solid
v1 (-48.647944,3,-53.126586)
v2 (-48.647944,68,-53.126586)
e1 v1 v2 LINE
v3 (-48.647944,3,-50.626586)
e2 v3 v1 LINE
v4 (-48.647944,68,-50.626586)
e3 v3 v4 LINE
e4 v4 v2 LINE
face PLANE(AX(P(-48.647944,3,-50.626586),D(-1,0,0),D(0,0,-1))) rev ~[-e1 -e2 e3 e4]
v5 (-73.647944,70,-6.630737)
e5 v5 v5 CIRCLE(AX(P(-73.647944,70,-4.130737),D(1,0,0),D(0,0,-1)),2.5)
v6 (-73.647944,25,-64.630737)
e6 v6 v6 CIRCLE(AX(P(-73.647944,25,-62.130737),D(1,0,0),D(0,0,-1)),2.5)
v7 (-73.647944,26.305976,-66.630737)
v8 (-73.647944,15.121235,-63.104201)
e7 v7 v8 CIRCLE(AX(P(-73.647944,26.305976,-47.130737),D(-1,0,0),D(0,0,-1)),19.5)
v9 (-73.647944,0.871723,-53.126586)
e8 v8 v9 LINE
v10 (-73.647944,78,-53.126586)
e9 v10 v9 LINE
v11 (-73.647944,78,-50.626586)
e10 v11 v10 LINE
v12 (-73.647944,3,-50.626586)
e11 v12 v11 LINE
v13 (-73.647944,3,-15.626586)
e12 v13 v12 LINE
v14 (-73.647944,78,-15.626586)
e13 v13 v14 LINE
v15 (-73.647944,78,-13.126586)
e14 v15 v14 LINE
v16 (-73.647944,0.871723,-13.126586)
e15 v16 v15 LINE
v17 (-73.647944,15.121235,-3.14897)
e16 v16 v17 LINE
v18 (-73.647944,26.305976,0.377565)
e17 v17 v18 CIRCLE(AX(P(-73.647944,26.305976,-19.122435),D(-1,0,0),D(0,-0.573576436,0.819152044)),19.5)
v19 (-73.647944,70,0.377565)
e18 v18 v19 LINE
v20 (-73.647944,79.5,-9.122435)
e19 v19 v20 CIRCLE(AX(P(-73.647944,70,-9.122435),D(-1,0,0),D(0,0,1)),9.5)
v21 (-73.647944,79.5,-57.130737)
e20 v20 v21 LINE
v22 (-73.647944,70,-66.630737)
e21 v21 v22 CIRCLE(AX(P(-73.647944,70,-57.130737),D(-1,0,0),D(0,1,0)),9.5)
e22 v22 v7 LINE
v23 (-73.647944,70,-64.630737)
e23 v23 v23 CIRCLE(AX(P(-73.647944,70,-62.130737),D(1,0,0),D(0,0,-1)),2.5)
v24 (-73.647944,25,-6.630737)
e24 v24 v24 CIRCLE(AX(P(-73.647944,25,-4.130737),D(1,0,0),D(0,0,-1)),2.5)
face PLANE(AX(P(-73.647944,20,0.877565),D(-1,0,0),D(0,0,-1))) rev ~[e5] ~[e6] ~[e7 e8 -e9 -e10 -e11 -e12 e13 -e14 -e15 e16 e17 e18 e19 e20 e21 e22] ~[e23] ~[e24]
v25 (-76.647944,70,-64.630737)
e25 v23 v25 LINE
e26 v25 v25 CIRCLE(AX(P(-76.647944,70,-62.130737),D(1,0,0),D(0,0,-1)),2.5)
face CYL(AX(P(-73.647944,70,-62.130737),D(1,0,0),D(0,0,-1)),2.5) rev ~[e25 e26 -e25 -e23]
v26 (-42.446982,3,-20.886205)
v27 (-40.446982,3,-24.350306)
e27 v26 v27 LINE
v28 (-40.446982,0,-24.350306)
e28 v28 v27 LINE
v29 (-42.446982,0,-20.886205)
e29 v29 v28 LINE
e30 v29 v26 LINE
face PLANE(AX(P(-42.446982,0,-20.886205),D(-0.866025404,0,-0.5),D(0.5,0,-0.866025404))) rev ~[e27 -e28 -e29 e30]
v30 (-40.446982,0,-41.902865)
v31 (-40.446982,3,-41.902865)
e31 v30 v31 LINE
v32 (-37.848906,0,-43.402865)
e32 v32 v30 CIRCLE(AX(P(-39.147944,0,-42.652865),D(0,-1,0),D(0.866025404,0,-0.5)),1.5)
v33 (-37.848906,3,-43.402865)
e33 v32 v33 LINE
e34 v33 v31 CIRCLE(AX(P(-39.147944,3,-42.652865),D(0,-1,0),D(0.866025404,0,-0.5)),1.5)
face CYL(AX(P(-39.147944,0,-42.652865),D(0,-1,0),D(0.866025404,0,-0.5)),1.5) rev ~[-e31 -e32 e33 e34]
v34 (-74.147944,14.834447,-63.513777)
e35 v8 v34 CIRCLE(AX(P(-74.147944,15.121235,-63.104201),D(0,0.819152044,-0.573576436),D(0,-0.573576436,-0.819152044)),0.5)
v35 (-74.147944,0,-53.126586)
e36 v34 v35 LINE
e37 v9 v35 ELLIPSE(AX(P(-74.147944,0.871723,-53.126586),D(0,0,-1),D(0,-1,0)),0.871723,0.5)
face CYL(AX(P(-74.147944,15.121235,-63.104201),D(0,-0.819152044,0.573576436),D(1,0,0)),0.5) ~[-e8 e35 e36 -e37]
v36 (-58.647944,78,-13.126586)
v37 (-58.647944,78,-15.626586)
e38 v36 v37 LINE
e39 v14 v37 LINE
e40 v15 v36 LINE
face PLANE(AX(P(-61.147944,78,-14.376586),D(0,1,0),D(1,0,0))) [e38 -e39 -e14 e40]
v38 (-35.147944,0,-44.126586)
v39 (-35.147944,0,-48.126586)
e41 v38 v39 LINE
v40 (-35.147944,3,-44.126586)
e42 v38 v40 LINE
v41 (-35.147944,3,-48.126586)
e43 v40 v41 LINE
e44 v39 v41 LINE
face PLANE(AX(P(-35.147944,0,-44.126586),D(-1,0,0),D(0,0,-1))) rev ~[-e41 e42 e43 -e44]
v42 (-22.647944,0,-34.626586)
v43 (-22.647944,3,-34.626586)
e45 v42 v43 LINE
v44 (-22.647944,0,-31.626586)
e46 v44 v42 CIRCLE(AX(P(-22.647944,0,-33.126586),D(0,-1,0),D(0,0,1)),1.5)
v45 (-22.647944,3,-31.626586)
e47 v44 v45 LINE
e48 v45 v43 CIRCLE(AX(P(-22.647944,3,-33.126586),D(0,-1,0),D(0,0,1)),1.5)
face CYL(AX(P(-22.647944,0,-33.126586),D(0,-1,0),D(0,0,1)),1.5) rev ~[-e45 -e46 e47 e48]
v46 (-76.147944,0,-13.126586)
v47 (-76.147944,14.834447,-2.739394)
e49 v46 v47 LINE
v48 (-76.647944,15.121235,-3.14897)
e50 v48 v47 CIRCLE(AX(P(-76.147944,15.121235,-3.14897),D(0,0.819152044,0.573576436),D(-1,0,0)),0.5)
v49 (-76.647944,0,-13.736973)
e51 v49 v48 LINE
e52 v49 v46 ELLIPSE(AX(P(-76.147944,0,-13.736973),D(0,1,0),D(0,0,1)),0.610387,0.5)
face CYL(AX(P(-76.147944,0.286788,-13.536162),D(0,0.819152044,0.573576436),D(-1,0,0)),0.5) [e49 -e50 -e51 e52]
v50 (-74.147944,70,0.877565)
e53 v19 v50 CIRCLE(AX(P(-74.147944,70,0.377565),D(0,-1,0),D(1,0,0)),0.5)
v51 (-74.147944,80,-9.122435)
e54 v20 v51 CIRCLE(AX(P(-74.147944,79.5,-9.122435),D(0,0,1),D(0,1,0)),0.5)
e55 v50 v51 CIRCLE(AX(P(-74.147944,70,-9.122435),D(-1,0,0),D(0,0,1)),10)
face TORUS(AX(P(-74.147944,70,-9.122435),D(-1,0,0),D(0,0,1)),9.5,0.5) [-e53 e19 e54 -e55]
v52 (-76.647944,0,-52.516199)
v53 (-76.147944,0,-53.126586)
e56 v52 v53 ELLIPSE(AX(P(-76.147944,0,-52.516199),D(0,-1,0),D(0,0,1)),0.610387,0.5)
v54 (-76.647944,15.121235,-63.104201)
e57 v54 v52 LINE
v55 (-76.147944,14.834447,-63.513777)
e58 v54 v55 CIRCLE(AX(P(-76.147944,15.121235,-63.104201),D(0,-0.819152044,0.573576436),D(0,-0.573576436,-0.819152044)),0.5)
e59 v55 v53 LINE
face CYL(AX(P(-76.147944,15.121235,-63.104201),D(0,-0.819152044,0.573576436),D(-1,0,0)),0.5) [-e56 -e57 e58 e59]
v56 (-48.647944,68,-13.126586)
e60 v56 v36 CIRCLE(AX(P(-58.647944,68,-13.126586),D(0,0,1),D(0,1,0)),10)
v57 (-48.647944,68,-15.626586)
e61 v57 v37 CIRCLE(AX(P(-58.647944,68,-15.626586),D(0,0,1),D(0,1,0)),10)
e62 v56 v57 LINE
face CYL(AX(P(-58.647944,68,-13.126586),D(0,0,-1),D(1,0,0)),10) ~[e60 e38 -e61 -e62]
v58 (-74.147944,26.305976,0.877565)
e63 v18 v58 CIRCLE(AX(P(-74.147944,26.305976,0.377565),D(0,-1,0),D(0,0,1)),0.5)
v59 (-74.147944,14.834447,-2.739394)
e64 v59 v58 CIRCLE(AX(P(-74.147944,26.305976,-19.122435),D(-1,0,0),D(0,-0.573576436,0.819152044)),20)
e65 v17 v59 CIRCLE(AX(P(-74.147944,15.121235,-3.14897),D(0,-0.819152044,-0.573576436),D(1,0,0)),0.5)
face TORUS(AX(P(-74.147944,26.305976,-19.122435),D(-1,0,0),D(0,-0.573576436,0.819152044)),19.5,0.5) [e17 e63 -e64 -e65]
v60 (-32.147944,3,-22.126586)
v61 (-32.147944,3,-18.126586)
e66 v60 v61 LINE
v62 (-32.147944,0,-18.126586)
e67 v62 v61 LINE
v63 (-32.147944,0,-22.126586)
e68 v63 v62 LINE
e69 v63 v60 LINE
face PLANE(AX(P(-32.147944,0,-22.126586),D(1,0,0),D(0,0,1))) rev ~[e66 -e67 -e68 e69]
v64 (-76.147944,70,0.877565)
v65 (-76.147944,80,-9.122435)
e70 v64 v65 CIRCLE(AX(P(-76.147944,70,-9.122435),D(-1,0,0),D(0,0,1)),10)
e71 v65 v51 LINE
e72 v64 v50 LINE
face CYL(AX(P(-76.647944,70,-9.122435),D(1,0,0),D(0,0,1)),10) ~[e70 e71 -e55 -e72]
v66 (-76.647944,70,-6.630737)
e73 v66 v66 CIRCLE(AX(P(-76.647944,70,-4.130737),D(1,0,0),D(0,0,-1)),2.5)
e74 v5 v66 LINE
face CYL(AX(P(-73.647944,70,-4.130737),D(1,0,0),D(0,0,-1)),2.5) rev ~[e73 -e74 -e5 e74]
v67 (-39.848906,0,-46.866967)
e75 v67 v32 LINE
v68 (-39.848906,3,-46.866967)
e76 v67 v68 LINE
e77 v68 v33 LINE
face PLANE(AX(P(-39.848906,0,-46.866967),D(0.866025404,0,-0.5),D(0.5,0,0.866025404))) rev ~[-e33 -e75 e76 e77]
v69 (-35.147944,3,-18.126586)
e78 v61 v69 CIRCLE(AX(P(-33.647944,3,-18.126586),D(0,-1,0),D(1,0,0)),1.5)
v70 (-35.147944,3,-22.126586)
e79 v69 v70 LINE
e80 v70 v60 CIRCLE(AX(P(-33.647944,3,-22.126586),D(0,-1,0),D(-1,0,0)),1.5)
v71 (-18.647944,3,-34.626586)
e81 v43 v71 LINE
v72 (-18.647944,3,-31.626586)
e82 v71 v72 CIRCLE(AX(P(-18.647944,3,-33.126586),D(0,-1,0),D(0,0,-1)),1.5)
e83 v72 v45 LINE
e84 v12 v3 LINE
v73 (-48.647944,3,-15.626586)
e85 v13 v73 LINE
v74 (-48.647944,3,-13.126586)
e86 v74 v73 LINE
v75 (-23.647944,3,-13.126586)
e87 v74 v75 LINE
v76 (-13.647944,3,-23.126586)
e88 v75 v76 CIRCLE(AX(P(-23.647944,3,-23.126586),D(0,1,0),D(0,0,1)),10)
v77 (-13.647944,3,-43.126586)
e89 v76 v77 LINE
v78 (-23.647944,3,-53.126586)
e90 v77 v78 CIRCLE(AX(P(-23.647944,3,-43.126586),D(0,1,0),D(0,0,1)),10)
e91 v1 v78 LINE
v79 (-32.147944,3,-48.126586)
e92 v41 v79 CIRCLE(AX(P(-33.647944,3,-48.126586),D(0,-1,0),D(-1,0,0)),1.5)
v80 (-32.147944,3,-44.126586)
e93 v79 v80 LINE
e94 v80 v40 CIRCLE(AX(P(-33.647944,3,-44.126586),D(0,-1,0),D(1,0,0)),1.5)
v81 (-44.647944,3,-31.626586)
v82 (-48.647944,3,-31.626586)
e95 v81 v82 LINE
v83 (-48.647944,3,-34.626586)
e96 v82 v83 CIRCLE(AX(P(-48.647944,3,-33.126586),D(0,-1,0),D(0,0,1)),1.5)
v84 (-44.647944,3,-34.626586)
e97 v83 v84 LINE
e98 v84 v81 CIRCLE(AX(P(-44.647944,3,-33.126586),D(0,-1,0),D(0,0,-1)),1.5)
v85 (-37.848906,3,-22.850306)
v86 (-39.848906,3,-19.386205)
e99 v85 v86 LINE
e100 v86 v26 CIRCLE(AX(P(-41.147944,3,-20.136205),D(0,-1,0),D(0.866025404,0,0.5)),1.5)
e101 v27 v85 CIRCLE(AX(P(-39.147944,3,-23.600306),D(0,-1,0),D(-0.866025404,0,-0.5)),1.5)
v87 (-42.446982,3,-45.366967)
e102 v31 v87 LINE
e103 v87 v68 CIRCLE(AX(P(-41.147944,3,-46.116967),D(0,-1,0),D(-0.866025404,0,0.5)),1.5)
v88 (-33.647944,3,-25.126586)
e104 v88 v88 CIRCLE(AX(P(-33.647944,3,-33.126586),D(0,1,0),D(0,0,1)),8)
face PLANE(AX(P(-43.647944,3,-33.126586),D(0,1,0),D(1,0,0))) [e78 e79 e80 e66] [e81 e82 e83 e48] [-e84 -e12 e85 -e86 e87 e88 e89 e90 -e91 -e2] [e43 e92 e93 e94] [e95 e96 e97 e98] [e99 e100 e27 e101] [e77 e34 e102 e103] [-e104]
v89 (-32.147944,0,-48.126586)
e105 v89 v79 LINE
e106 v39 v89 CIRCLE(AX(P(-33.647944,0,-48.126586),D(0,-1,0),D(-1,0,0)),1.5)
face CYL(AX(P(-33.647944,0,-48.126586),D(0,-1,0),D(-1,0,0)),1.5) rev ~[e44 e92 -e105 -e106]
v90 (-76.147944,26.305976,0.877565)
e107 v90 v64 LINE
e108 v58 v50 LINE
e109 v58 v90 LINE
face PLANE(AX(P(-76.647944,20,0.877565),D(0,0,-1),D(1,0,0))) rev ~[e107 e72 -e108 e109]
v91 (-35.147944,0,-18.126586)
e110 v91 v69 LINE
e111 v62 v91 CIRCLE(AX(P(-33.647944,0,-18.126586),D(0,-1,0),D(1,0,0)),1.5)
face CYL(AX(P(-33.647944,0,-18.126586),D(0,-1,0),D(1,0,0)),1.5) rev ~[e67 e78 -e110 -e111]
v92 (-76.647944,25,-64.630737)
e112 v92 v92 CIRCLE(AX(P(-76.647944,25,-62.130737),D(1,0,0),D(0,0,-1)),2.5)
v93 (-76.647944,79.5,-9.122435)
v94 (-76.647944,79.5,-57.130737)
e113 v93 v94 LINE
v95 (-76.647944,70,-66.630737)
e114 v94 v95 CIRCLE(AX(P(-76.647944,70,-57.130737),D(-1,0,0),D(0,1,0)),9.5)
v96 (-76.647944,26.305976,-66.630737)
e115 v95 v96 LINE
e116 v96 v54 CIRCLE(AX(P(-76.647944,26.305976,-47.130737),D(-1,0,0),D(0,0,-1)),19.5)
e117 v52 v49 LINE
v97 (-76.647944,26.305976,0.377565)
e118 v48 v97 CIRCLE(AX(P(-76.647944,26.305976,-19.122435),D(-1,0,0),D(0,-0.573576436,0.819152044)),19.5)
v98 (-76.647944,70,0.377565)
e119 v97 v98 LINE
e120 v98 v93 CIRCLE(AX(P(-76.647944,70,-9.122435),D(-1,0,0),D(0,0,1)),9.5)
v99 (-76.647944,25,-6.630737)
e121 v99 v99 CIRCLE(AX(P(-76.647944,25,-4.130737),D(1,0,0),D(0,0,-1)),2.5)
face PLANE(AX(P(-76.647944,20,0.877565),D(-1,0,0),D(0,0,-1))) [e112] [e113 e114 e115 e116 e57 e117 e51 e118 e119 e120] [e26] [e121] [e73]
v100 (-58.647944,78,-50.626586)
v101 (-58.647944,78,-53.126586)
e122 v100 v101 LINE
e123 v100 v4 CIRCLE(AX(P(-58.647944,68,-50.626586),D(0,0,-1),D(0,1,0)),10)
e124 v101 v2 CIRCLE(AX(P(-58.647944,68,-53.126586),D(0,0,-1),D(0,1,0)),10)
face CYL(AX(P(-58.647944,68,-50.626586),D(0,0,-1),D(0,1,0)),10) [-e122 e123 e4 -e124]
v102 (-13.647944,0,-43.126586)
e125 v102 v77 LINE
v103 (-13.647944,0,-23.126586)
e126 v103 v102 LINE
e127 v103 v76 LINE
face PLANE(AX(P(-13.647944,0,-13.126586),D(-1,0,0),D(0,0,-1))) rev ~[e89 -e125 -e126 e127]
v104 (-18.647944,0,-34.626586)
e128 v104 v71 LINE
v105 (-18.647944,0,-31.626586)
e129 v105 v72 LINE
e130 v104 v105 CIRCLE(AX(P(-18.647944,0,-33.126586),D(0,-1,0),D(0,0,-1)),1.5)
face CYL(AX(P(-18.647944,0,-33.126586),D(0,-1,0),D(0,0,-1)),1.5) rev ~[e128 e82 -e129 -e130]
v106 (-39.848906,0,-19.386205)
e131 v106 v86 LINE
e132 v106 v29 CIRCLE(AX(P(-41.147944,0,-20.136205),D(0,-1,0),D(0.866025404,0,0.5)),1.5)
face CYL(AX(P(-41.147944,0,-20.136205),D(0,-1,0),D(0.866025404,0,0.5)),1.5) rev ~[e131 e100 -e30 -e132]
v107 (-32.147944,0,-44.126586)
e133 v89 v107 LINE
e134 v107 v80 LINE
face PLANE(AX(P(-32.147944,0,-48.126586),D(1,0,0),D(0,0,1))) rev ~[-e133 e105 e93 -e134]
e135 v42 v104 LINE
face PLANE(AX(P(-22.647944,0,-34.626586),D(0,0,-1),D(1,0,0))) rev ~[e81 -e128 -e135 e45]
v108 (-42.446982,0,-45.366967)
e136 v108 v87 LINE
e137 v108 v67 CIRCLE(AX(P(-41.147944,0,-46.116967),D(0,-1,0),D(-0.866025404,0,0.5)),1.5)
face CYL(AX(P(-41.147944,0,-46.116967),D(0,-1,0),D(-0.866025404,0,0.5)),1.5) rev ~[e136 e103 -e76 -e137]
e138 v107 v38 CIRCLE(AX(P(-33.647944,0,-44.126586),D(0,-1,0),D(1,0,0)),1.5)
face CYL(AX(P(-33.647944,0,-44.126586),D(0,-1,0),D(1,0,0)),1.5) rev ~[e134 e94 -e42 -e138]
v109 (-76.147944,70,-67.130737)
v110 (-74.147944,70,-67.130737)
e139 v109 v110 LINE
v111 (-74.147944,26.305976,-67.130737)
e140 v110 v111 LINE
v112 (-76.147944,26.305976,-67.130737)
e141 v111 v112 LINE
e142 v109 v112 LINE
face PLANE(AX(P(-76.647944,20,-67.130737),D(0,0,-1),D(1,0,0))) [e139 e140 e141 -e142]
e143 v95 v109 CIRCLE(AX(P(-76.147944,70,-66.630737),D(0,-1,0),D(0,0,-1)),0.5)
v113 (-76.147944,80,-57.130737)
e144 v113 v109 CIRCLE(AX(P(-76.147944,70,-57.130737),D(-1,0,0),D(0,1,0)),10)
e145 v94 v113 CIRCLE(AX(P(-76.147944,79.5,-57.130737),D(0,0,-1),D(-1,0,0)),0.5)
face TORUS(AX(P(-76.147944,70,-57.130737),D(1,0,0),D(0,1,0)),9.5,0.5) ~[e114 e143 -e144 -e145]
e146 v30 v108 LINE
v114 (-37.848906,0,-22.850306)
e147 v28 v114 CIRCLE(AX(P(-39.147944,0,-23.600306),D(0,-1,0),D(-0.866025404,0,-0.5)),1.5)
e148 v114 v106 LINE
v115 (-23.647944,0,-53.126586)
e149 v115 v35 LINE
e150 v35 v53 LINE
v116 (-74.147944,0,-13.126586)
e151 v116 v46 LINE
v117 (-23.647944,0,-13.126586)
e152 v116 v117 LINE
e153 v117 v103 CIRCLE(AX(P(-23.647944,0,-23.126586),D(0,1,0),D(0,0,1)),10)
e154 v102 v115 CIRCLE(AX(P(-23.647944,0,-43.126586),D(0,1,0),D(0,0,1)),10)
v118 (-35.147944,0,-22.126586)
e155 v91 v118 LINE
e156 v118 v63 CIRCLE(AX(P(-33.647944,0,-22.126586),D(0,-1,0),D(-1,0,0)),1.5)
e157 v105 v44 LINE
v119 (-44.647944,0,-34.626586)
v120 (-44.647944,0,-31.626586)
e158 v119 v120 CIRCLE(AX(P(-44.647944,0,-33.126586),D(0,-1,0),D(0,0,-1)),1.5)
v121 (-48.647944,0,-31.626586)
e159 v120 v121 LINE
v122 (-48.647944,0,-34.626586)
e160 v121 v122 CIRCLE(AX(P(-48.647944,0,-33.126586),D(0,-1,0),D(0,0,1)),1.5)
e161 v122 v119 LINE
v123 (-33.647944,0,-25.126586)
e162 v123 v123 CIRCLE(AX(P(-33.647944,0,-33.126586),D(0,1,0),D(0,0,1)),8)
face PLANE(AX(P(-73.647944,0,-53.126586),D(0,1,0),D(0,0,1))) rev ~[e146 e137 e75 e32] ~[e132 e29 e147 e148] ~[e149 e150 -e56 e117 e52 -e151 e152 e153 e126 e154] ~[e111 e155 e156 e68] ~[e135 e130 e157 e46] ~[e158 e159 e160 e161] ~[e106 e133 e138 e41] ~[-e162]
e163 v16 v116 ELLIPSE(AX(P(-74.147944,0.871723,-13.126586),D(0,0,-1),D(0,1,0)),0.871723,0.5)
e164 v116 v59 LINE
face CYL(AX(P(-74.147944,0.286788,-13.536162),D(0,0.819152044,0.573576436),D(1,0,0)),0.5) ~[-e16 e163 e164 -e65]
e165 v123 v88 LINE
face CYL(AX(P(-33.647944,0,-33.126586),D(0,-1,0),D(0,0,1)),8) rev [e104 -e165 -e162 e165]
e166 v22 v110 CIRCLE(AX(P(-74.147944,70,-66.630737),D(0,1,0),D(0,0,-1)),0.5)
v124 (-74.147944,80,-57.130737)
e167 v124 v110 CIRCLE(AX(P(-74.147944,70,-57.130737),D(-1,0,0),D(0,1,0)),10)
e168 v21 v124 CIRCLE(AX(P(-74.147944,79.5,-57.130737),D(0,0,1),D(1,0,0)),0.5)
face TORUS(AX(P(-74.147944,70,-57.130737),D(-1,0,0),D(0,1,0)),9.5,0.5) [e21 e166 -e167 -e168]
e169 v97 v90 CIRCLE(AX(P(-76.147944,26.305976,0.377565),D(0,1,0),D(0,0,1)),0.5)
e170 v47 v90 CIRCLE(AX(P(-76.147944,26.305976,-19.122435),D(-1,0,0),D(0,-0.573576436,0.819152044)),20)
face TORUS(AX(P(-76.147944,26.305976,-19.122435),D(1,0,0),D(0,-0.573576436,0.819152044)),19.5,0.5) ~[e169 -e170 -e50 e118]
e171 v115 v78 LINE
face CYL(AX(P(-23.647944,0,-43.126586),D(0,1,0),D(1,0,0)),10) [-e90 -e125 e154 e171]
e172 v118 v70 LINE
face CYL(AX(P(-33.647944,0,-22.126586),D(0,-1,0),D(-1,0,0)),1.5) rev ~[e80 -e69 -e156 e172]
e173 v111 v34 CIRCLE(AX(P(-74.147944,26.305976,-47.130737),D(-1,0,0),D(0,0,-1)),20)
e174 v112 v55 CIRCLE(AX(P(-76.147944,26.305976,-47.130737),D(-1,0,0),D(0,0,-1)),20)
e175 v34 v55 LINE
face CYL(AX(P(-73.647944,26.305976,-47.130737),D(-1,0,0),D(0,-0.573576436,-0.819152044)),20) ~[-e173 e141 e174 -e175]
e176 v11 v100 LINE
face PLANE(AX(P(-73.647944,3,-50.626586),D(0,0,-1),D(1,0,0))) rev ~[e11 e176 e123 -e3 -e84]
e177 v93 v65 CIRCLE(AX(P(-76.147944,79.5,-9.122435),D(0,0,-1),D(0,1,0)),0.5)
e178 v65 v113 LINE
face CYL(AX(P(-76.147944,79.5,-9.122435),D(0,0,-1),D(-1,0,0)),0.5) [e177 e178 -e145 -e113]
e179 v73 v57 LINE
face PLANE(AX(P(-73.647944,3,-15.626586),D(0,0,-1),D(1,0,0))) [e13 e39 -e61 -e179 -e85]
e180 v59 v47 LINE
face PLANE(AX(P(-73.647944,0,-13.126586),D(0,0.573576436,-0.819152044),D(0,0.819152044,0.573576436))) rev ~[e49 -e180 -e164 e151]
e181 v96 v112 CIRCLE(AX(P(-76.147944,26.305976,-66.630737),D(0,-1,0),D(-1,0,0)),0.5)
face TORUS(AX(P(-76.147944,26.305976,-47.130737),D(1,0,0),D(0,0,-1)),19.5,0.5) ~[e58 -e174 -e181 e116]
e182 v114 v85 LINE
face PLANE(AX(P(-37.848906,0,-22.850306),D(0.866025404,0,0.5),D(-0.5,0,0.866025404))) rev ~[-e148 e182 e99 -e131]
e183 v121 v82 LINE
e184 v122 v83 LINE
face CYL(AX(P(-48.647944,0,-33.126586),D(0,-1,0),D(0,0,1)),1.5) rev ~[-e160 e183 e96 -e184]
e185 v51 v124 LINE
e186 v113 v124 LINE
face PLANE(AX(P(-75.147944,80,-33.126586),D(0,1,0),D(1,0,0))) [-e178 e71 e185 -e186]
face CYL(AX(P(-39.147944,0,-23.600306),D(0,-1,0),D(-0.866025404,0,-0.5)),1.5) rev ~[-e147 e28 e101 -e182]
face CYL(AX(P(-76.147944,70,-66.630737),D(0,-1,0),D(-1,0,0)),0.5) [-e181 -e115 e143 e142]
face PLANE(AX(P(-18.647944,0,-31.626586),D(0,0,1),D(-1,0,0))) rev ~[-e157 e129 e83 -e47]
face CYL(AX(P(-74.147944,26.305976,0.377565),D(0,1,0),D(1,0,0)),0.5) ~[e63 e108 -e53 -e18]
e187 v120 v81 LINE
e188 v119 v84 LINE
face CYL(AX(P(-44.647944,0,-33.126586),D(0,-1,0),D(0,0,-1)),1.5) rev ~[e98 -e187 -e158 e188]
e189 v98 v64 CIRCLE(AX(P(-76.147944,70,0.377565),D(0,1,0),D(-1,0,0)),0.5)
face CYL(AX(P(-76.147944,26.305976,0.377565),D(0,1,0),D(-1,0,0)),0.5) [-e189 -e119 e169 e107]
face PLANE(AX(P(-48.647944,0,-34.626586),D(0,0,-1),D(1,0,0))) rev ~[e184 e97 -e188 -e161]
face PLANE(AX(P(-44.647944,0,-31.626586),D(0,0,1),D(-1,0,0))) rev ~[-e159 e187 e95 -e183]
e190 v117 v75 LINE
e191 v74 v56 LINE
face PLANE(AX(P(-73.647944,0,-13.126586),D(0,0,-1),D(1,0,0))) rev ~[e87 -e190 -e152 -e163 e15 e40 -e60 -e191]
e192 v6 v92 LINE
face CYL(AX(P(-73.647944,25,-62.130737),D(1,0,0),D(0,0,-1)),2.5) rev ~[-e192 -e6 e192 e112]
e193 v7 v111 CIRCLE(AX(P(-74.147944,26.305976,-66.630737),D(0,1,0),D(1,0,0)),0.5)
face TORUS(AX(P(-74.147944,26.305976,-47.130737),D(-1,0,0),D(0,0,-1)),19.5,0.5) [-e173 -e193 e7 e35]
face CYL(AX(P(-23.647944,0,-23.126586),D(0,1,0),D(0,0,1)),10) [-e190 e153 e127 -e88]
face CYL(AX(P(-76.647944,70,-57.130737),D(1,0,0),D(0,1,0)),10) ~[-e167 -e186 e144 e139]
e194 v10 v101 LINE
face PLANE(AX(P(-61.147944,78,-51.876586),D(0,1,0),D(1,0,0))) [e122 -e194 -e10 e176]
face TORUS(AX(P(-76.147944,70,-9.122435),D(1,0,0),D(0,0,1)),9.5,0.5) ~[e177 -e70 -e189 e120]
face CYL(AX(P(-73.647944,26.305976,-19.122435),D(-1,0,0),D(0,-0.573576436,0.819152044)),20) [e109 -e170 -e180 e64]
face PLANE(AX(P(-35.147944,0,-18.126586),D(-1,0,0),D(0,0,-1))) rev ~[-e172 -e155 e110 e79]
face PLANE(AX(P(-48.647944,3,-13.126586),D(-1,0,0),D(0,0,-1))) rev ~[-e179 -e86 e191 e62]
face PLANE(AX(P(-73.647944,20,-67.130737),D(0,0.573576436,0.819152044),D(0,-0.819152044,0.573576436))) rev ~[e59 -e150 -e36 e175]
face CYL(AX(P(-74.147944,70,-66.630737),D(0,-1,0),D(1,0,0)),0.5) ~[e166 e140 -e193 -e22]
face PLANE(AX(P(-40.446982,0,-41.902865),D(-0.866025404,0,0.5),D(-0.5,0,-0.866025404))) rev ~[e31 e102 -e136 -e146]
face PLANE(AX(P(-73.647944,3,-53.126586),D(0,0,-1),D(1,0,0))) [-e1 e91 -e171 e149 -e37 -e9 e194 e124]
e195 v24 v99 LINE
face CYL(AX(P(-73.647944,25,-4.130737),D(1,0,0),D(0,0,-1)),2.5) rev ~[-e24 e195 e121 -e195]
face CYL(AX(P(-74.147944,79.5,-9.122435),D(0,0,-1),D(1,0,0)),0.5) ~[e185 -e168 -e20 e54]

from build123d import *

# Parameters (mm, degrees)
SKETCH_1_W          = 60
SKETCH_1_H          = 40
SKETCH_1_R          = 8
EXTRUDE_1_DEPTH     = 3
EXTRUDE_2_DEPTH     = 3
SKETCH_6_W          = 3
SKETCH_6_H          = 68.008301529
EXTRUDE_3_DEPTH     = 60
SKETCH_7_R          = 2.5
CUT_EXTRUDE_1_DEPTH = 121.443081137
FILLET_1_R          = 10
FILLET_2_R          = 20
FILLET_4_R          = 10
FILLET_12_R         = 0.5
FILLET_13_R         = 0.5
SKETCH_10_W         = 25
SKETCH_10_H         = 2.5
EXTRUDE_6_DEPTH     = 75
FILLET_16_R         = 10


with BuildPart() as part:
    # 草图1 → 凸台-拉伸1 (new body)
    with BuildSketch(Plane(origin=(0, 0, 0), x_dir=(1, 0, 0), z_dir=(0, 1, 0))):
        with Locations((-43.647943628, 33.126585816)):
            Rectangle(SKETCH_1_W, SKETCH_1_H)
        with Locations(Location((-33.647943628, 33.126585816, 0), (0, 0, 270))):
            Circle(SKETCH_1_R, mode=Mode.SUBTRACT)
        with BuildLine():
            Line((-18.647943628, 31.626585816), (-22.647943628, 31.626585816))
            ThreePointArc((-22.647943628, 31.626585816), (-24.147943628, 33.126585816), (-22.647943628, 34.626585816))
            Line((-22.647943628, 34.626585816), (-18.647943628, 34.626585816))
            ThreePointArc((-18.647943628, 34.626585816), (-17.147943628, 33.126585816), (-18.647943628, 31.626585816))
        make_face(mode=Mode.SUBTRACT)
        with BuildLine():
            Line((-35.147943628, 18.126585816), (-35.147943628, 22.126585816))
            ThreePointArc((-35.147943628, 22.126585816), (-33.647943628, 23.626585816), (-32.147943628, 22.126585816))
            Line((-32.147943628, 22.126585816), (-32.147943628, 18.126585816))
            ThreePointArc((-32.147943628, 18.126585816), (-33.647943628, 16.626585816), (-35.147943628, 18.126585816))
        make_face(mode=Mode.SUBTRACT)
        with BuildLine():
            Line((-48.647943628, 34.626585816), (-44.647943628, 34.626585816))
            ThreePointArc((-44.647943628, 34.626585816), (-43.147943628, 33.126585816), (-44.647943628, 31.626585816))
            Line((-44.647943628, 31.626585816), (-48.647943628, 31.626585816))
            ThreePointArc((-48.647943628, 31.626585816), (-50.147943628, 33.126585816), (-48.647943628, 34.626585816))
        make_face(mode=Mode.SUBTRACT)
        with BuildLine():
            Line((-32.147943628, 48.126585816), (-32.147943628, 44.126585816))
            ThreePointArc((-32.147943628, 44.126585816), (-33.647943628, 42.626585816), (-35.147943628, 44.126585816))
            Line((-35.147943628, 44.126585816), (-35.147943628, 48.126585816))
            ThreePointArc((-35.147943628, 48.126585816), (-33.647943628, 49.626585816), (-32.147943628, 48.126585816))
        make_face(mode=Mode.SUBTRACT)
        with BuildLine():
            Line((-42.446981734, 20.88620476), (-40.446981734, 24.350306375))
            ThreePointArc((-40.446981734, 24.350306375), (-38.397943628, 24.89934448), (-37.848905522, 22.850306375))
            Line((-37.848905522, 22.850306375), (-39.848905522, 19.38620476))
            ThreePointArc((-39.848905522, 19.38620476), (-41.897943628, 18.837166654), (-42.446981734, 20.88620476))
        make_face(mode=Mode.SUBTRACT)
        with BuildLine():
            Line((-39.848905522, 46.866966873), (-37.848905522, 43.402865258))
            ThreePointArc((-37.848905522, 43.402865258), (-38.397943628, 41.353827152), (-40.446981734, 41.902865258))
            Line((-40.446981734, 41.902865258), (-42.446981734, 45.366966873))
            ThreePointArc((-42.446981734, 45.366966873), (-41.897943628, 47.416004979), (-39.848905522, 46.866966873))
        make_face(mode=Mode.SUBTRACT)
    extrude(amount=EXTRUDE_1_DEPTH)

    # 草图2 → 凸台-拉伸2 (add)
    with BuildSketch(Plane.ZY.offset(73.647943628)):
        Polygon((-67.130736581, 20), (-53.126585816, 0), (-13.126585816, 0), (0.877564948, 20), align=None)
    extrude(amount=EXTRUDE_2_DEPTH)

    # 草图6 → 凸台-拉伸3 (add)
    with BuildSketch(Plane(origin=(0, 20, 0), x_dir=(1, 0, 0), z_dir=(0, 1, 0))):
        with Locations((-75.147943628, 33.126585817)):
            Rectangle(SKETCH_6_W, SKETCH_6_H)
    extrude(amount=EXTRUDE_3_DEPTH)

    # 草图7 → 切除-拉伸1 (cut, through all)
    with BuildSketch(Plane(origin=(-73.647943628, 0, 0), x_dir=(0, 0, -1), z_dir=(1, 0, 0))):
        with Locations((62.130736581, 25)):
            Circle(SKETCH_7_R)
        with Locations((4.130736581, 25)):
            Circle(SKETCH_7_R)
        with Locations((62.130736581, 70)):
            Circle(SKETCH_7_R)
        with Locations((4.130736581, 70)):
            Circle(SKETCH_7_R)
    extrude(amount=-CUT_EXTRUDE_1_DEPTH, mode=Mode.SUBTRACT)

    # 圆角1
    fillet_1_edges = [part.edges().sort_by_distance(p)[0] for p in [
        (-13.647943628, 1.5, -53.126585816),
        (-13.647943628, 1.5, -13.126585816),
    ]]
    fillet(fillet_1_edges, radius=FILLET_1_R)

    # 圆角2
    fillet_2_edges = [part.edges().sort_by_distance(p)[0] for p in [
        (-75.147943628, 20, 0.877564948),
        (-75.147943628, 20, -67.130736581),
    ]]
    fillet(fillet_2_edges, radius=FILLET_2_R)

    # 圆角4
    fillet_4_edges = [part.edges().sort_by_distance(p)[0] for p in [
        (-75.147943628, 80, -67.130736581),
        (-75.147943628, 80, 0.877564948),
    ]]
    fillet(fillet_4_edges, radius=FILLET_4_R)

    # 圆角12
    fillet_12_edges = [part.edges().sort_by_distance(p)[0] for p in [
        (-73.647943628, 7.417223525, -7.932989991),
        (-73.647943628, 7.417223525, -58.320181641),
        (-73.647943628, 20.291859787, -0.048096037),
        (-73.647943628, 20.291859787, -66.205075596),
        (-73.647943628, 80, -33.126585816),
        (-73.647943628, 48.152987889, -67.130736581),
        (-73.647943628, 48.152987889, 0.877564948),
        (-73.647943628, 77.071067812, -64.201804393),
        (-73.647943628, 77.071067812, -2.05136724),
    ]]
    fillet(fillet_12_edges, radius=FILLET_12_R)

    # 圆角13
    fillet_13_edges = [part.edges().sort_by_distance(p)[0] for p in [
        (-76.647943628, 7.417223525, -7.932989991),
        (-76.647943628, 7.417223525, -58.320181641),
        (-76.647943628, 20.291859787, -0.048096037),
        (-76.647943628, 20.291859787, -66.205075596),
        (-76.647943628, 80, -33.126585816),
        (-76.647943628, 48.152987889, 0.877564948),
        (-76.647943628, 48.152987889, -67.130736581),
        (-76.647943628, 77.071067812, -64.201804393),
        (-76.647943628, 77.071067812, -2.05136724),
    ]]
    fillet(fillet_13_edges, radius=FILLET_13_R)

    # 草图10 → 凸台-拉伸6 (add)
    with BuildSketch(Plane(origin=(0, 3, 0), x_dir=(1, 0, 0), z_dir=(0, 1, 0))):
        with Locations((-61.147943628, 51.876585816)):
            Rectangle(SKETCH_10_W, SKETCH_10_H)
        with Locations((-61.147943628, 14.376585816)):
            Rectangle(SKETCH_10_W, SKETCH_10_H)
    extrude(amount=EXTRUDE_6_DEPTH)

    # 圆角16
    fillet_16_edges = [part.edges().sort_by_distance(p)[0] for p in [
        (-48.647943628, 78, -51.876585816),
        (-48.647943628, 78, -14.376585816),
    ]]
    fillet(fillet_16_edges, radius=FILLET_16_R)


solid = part.part
